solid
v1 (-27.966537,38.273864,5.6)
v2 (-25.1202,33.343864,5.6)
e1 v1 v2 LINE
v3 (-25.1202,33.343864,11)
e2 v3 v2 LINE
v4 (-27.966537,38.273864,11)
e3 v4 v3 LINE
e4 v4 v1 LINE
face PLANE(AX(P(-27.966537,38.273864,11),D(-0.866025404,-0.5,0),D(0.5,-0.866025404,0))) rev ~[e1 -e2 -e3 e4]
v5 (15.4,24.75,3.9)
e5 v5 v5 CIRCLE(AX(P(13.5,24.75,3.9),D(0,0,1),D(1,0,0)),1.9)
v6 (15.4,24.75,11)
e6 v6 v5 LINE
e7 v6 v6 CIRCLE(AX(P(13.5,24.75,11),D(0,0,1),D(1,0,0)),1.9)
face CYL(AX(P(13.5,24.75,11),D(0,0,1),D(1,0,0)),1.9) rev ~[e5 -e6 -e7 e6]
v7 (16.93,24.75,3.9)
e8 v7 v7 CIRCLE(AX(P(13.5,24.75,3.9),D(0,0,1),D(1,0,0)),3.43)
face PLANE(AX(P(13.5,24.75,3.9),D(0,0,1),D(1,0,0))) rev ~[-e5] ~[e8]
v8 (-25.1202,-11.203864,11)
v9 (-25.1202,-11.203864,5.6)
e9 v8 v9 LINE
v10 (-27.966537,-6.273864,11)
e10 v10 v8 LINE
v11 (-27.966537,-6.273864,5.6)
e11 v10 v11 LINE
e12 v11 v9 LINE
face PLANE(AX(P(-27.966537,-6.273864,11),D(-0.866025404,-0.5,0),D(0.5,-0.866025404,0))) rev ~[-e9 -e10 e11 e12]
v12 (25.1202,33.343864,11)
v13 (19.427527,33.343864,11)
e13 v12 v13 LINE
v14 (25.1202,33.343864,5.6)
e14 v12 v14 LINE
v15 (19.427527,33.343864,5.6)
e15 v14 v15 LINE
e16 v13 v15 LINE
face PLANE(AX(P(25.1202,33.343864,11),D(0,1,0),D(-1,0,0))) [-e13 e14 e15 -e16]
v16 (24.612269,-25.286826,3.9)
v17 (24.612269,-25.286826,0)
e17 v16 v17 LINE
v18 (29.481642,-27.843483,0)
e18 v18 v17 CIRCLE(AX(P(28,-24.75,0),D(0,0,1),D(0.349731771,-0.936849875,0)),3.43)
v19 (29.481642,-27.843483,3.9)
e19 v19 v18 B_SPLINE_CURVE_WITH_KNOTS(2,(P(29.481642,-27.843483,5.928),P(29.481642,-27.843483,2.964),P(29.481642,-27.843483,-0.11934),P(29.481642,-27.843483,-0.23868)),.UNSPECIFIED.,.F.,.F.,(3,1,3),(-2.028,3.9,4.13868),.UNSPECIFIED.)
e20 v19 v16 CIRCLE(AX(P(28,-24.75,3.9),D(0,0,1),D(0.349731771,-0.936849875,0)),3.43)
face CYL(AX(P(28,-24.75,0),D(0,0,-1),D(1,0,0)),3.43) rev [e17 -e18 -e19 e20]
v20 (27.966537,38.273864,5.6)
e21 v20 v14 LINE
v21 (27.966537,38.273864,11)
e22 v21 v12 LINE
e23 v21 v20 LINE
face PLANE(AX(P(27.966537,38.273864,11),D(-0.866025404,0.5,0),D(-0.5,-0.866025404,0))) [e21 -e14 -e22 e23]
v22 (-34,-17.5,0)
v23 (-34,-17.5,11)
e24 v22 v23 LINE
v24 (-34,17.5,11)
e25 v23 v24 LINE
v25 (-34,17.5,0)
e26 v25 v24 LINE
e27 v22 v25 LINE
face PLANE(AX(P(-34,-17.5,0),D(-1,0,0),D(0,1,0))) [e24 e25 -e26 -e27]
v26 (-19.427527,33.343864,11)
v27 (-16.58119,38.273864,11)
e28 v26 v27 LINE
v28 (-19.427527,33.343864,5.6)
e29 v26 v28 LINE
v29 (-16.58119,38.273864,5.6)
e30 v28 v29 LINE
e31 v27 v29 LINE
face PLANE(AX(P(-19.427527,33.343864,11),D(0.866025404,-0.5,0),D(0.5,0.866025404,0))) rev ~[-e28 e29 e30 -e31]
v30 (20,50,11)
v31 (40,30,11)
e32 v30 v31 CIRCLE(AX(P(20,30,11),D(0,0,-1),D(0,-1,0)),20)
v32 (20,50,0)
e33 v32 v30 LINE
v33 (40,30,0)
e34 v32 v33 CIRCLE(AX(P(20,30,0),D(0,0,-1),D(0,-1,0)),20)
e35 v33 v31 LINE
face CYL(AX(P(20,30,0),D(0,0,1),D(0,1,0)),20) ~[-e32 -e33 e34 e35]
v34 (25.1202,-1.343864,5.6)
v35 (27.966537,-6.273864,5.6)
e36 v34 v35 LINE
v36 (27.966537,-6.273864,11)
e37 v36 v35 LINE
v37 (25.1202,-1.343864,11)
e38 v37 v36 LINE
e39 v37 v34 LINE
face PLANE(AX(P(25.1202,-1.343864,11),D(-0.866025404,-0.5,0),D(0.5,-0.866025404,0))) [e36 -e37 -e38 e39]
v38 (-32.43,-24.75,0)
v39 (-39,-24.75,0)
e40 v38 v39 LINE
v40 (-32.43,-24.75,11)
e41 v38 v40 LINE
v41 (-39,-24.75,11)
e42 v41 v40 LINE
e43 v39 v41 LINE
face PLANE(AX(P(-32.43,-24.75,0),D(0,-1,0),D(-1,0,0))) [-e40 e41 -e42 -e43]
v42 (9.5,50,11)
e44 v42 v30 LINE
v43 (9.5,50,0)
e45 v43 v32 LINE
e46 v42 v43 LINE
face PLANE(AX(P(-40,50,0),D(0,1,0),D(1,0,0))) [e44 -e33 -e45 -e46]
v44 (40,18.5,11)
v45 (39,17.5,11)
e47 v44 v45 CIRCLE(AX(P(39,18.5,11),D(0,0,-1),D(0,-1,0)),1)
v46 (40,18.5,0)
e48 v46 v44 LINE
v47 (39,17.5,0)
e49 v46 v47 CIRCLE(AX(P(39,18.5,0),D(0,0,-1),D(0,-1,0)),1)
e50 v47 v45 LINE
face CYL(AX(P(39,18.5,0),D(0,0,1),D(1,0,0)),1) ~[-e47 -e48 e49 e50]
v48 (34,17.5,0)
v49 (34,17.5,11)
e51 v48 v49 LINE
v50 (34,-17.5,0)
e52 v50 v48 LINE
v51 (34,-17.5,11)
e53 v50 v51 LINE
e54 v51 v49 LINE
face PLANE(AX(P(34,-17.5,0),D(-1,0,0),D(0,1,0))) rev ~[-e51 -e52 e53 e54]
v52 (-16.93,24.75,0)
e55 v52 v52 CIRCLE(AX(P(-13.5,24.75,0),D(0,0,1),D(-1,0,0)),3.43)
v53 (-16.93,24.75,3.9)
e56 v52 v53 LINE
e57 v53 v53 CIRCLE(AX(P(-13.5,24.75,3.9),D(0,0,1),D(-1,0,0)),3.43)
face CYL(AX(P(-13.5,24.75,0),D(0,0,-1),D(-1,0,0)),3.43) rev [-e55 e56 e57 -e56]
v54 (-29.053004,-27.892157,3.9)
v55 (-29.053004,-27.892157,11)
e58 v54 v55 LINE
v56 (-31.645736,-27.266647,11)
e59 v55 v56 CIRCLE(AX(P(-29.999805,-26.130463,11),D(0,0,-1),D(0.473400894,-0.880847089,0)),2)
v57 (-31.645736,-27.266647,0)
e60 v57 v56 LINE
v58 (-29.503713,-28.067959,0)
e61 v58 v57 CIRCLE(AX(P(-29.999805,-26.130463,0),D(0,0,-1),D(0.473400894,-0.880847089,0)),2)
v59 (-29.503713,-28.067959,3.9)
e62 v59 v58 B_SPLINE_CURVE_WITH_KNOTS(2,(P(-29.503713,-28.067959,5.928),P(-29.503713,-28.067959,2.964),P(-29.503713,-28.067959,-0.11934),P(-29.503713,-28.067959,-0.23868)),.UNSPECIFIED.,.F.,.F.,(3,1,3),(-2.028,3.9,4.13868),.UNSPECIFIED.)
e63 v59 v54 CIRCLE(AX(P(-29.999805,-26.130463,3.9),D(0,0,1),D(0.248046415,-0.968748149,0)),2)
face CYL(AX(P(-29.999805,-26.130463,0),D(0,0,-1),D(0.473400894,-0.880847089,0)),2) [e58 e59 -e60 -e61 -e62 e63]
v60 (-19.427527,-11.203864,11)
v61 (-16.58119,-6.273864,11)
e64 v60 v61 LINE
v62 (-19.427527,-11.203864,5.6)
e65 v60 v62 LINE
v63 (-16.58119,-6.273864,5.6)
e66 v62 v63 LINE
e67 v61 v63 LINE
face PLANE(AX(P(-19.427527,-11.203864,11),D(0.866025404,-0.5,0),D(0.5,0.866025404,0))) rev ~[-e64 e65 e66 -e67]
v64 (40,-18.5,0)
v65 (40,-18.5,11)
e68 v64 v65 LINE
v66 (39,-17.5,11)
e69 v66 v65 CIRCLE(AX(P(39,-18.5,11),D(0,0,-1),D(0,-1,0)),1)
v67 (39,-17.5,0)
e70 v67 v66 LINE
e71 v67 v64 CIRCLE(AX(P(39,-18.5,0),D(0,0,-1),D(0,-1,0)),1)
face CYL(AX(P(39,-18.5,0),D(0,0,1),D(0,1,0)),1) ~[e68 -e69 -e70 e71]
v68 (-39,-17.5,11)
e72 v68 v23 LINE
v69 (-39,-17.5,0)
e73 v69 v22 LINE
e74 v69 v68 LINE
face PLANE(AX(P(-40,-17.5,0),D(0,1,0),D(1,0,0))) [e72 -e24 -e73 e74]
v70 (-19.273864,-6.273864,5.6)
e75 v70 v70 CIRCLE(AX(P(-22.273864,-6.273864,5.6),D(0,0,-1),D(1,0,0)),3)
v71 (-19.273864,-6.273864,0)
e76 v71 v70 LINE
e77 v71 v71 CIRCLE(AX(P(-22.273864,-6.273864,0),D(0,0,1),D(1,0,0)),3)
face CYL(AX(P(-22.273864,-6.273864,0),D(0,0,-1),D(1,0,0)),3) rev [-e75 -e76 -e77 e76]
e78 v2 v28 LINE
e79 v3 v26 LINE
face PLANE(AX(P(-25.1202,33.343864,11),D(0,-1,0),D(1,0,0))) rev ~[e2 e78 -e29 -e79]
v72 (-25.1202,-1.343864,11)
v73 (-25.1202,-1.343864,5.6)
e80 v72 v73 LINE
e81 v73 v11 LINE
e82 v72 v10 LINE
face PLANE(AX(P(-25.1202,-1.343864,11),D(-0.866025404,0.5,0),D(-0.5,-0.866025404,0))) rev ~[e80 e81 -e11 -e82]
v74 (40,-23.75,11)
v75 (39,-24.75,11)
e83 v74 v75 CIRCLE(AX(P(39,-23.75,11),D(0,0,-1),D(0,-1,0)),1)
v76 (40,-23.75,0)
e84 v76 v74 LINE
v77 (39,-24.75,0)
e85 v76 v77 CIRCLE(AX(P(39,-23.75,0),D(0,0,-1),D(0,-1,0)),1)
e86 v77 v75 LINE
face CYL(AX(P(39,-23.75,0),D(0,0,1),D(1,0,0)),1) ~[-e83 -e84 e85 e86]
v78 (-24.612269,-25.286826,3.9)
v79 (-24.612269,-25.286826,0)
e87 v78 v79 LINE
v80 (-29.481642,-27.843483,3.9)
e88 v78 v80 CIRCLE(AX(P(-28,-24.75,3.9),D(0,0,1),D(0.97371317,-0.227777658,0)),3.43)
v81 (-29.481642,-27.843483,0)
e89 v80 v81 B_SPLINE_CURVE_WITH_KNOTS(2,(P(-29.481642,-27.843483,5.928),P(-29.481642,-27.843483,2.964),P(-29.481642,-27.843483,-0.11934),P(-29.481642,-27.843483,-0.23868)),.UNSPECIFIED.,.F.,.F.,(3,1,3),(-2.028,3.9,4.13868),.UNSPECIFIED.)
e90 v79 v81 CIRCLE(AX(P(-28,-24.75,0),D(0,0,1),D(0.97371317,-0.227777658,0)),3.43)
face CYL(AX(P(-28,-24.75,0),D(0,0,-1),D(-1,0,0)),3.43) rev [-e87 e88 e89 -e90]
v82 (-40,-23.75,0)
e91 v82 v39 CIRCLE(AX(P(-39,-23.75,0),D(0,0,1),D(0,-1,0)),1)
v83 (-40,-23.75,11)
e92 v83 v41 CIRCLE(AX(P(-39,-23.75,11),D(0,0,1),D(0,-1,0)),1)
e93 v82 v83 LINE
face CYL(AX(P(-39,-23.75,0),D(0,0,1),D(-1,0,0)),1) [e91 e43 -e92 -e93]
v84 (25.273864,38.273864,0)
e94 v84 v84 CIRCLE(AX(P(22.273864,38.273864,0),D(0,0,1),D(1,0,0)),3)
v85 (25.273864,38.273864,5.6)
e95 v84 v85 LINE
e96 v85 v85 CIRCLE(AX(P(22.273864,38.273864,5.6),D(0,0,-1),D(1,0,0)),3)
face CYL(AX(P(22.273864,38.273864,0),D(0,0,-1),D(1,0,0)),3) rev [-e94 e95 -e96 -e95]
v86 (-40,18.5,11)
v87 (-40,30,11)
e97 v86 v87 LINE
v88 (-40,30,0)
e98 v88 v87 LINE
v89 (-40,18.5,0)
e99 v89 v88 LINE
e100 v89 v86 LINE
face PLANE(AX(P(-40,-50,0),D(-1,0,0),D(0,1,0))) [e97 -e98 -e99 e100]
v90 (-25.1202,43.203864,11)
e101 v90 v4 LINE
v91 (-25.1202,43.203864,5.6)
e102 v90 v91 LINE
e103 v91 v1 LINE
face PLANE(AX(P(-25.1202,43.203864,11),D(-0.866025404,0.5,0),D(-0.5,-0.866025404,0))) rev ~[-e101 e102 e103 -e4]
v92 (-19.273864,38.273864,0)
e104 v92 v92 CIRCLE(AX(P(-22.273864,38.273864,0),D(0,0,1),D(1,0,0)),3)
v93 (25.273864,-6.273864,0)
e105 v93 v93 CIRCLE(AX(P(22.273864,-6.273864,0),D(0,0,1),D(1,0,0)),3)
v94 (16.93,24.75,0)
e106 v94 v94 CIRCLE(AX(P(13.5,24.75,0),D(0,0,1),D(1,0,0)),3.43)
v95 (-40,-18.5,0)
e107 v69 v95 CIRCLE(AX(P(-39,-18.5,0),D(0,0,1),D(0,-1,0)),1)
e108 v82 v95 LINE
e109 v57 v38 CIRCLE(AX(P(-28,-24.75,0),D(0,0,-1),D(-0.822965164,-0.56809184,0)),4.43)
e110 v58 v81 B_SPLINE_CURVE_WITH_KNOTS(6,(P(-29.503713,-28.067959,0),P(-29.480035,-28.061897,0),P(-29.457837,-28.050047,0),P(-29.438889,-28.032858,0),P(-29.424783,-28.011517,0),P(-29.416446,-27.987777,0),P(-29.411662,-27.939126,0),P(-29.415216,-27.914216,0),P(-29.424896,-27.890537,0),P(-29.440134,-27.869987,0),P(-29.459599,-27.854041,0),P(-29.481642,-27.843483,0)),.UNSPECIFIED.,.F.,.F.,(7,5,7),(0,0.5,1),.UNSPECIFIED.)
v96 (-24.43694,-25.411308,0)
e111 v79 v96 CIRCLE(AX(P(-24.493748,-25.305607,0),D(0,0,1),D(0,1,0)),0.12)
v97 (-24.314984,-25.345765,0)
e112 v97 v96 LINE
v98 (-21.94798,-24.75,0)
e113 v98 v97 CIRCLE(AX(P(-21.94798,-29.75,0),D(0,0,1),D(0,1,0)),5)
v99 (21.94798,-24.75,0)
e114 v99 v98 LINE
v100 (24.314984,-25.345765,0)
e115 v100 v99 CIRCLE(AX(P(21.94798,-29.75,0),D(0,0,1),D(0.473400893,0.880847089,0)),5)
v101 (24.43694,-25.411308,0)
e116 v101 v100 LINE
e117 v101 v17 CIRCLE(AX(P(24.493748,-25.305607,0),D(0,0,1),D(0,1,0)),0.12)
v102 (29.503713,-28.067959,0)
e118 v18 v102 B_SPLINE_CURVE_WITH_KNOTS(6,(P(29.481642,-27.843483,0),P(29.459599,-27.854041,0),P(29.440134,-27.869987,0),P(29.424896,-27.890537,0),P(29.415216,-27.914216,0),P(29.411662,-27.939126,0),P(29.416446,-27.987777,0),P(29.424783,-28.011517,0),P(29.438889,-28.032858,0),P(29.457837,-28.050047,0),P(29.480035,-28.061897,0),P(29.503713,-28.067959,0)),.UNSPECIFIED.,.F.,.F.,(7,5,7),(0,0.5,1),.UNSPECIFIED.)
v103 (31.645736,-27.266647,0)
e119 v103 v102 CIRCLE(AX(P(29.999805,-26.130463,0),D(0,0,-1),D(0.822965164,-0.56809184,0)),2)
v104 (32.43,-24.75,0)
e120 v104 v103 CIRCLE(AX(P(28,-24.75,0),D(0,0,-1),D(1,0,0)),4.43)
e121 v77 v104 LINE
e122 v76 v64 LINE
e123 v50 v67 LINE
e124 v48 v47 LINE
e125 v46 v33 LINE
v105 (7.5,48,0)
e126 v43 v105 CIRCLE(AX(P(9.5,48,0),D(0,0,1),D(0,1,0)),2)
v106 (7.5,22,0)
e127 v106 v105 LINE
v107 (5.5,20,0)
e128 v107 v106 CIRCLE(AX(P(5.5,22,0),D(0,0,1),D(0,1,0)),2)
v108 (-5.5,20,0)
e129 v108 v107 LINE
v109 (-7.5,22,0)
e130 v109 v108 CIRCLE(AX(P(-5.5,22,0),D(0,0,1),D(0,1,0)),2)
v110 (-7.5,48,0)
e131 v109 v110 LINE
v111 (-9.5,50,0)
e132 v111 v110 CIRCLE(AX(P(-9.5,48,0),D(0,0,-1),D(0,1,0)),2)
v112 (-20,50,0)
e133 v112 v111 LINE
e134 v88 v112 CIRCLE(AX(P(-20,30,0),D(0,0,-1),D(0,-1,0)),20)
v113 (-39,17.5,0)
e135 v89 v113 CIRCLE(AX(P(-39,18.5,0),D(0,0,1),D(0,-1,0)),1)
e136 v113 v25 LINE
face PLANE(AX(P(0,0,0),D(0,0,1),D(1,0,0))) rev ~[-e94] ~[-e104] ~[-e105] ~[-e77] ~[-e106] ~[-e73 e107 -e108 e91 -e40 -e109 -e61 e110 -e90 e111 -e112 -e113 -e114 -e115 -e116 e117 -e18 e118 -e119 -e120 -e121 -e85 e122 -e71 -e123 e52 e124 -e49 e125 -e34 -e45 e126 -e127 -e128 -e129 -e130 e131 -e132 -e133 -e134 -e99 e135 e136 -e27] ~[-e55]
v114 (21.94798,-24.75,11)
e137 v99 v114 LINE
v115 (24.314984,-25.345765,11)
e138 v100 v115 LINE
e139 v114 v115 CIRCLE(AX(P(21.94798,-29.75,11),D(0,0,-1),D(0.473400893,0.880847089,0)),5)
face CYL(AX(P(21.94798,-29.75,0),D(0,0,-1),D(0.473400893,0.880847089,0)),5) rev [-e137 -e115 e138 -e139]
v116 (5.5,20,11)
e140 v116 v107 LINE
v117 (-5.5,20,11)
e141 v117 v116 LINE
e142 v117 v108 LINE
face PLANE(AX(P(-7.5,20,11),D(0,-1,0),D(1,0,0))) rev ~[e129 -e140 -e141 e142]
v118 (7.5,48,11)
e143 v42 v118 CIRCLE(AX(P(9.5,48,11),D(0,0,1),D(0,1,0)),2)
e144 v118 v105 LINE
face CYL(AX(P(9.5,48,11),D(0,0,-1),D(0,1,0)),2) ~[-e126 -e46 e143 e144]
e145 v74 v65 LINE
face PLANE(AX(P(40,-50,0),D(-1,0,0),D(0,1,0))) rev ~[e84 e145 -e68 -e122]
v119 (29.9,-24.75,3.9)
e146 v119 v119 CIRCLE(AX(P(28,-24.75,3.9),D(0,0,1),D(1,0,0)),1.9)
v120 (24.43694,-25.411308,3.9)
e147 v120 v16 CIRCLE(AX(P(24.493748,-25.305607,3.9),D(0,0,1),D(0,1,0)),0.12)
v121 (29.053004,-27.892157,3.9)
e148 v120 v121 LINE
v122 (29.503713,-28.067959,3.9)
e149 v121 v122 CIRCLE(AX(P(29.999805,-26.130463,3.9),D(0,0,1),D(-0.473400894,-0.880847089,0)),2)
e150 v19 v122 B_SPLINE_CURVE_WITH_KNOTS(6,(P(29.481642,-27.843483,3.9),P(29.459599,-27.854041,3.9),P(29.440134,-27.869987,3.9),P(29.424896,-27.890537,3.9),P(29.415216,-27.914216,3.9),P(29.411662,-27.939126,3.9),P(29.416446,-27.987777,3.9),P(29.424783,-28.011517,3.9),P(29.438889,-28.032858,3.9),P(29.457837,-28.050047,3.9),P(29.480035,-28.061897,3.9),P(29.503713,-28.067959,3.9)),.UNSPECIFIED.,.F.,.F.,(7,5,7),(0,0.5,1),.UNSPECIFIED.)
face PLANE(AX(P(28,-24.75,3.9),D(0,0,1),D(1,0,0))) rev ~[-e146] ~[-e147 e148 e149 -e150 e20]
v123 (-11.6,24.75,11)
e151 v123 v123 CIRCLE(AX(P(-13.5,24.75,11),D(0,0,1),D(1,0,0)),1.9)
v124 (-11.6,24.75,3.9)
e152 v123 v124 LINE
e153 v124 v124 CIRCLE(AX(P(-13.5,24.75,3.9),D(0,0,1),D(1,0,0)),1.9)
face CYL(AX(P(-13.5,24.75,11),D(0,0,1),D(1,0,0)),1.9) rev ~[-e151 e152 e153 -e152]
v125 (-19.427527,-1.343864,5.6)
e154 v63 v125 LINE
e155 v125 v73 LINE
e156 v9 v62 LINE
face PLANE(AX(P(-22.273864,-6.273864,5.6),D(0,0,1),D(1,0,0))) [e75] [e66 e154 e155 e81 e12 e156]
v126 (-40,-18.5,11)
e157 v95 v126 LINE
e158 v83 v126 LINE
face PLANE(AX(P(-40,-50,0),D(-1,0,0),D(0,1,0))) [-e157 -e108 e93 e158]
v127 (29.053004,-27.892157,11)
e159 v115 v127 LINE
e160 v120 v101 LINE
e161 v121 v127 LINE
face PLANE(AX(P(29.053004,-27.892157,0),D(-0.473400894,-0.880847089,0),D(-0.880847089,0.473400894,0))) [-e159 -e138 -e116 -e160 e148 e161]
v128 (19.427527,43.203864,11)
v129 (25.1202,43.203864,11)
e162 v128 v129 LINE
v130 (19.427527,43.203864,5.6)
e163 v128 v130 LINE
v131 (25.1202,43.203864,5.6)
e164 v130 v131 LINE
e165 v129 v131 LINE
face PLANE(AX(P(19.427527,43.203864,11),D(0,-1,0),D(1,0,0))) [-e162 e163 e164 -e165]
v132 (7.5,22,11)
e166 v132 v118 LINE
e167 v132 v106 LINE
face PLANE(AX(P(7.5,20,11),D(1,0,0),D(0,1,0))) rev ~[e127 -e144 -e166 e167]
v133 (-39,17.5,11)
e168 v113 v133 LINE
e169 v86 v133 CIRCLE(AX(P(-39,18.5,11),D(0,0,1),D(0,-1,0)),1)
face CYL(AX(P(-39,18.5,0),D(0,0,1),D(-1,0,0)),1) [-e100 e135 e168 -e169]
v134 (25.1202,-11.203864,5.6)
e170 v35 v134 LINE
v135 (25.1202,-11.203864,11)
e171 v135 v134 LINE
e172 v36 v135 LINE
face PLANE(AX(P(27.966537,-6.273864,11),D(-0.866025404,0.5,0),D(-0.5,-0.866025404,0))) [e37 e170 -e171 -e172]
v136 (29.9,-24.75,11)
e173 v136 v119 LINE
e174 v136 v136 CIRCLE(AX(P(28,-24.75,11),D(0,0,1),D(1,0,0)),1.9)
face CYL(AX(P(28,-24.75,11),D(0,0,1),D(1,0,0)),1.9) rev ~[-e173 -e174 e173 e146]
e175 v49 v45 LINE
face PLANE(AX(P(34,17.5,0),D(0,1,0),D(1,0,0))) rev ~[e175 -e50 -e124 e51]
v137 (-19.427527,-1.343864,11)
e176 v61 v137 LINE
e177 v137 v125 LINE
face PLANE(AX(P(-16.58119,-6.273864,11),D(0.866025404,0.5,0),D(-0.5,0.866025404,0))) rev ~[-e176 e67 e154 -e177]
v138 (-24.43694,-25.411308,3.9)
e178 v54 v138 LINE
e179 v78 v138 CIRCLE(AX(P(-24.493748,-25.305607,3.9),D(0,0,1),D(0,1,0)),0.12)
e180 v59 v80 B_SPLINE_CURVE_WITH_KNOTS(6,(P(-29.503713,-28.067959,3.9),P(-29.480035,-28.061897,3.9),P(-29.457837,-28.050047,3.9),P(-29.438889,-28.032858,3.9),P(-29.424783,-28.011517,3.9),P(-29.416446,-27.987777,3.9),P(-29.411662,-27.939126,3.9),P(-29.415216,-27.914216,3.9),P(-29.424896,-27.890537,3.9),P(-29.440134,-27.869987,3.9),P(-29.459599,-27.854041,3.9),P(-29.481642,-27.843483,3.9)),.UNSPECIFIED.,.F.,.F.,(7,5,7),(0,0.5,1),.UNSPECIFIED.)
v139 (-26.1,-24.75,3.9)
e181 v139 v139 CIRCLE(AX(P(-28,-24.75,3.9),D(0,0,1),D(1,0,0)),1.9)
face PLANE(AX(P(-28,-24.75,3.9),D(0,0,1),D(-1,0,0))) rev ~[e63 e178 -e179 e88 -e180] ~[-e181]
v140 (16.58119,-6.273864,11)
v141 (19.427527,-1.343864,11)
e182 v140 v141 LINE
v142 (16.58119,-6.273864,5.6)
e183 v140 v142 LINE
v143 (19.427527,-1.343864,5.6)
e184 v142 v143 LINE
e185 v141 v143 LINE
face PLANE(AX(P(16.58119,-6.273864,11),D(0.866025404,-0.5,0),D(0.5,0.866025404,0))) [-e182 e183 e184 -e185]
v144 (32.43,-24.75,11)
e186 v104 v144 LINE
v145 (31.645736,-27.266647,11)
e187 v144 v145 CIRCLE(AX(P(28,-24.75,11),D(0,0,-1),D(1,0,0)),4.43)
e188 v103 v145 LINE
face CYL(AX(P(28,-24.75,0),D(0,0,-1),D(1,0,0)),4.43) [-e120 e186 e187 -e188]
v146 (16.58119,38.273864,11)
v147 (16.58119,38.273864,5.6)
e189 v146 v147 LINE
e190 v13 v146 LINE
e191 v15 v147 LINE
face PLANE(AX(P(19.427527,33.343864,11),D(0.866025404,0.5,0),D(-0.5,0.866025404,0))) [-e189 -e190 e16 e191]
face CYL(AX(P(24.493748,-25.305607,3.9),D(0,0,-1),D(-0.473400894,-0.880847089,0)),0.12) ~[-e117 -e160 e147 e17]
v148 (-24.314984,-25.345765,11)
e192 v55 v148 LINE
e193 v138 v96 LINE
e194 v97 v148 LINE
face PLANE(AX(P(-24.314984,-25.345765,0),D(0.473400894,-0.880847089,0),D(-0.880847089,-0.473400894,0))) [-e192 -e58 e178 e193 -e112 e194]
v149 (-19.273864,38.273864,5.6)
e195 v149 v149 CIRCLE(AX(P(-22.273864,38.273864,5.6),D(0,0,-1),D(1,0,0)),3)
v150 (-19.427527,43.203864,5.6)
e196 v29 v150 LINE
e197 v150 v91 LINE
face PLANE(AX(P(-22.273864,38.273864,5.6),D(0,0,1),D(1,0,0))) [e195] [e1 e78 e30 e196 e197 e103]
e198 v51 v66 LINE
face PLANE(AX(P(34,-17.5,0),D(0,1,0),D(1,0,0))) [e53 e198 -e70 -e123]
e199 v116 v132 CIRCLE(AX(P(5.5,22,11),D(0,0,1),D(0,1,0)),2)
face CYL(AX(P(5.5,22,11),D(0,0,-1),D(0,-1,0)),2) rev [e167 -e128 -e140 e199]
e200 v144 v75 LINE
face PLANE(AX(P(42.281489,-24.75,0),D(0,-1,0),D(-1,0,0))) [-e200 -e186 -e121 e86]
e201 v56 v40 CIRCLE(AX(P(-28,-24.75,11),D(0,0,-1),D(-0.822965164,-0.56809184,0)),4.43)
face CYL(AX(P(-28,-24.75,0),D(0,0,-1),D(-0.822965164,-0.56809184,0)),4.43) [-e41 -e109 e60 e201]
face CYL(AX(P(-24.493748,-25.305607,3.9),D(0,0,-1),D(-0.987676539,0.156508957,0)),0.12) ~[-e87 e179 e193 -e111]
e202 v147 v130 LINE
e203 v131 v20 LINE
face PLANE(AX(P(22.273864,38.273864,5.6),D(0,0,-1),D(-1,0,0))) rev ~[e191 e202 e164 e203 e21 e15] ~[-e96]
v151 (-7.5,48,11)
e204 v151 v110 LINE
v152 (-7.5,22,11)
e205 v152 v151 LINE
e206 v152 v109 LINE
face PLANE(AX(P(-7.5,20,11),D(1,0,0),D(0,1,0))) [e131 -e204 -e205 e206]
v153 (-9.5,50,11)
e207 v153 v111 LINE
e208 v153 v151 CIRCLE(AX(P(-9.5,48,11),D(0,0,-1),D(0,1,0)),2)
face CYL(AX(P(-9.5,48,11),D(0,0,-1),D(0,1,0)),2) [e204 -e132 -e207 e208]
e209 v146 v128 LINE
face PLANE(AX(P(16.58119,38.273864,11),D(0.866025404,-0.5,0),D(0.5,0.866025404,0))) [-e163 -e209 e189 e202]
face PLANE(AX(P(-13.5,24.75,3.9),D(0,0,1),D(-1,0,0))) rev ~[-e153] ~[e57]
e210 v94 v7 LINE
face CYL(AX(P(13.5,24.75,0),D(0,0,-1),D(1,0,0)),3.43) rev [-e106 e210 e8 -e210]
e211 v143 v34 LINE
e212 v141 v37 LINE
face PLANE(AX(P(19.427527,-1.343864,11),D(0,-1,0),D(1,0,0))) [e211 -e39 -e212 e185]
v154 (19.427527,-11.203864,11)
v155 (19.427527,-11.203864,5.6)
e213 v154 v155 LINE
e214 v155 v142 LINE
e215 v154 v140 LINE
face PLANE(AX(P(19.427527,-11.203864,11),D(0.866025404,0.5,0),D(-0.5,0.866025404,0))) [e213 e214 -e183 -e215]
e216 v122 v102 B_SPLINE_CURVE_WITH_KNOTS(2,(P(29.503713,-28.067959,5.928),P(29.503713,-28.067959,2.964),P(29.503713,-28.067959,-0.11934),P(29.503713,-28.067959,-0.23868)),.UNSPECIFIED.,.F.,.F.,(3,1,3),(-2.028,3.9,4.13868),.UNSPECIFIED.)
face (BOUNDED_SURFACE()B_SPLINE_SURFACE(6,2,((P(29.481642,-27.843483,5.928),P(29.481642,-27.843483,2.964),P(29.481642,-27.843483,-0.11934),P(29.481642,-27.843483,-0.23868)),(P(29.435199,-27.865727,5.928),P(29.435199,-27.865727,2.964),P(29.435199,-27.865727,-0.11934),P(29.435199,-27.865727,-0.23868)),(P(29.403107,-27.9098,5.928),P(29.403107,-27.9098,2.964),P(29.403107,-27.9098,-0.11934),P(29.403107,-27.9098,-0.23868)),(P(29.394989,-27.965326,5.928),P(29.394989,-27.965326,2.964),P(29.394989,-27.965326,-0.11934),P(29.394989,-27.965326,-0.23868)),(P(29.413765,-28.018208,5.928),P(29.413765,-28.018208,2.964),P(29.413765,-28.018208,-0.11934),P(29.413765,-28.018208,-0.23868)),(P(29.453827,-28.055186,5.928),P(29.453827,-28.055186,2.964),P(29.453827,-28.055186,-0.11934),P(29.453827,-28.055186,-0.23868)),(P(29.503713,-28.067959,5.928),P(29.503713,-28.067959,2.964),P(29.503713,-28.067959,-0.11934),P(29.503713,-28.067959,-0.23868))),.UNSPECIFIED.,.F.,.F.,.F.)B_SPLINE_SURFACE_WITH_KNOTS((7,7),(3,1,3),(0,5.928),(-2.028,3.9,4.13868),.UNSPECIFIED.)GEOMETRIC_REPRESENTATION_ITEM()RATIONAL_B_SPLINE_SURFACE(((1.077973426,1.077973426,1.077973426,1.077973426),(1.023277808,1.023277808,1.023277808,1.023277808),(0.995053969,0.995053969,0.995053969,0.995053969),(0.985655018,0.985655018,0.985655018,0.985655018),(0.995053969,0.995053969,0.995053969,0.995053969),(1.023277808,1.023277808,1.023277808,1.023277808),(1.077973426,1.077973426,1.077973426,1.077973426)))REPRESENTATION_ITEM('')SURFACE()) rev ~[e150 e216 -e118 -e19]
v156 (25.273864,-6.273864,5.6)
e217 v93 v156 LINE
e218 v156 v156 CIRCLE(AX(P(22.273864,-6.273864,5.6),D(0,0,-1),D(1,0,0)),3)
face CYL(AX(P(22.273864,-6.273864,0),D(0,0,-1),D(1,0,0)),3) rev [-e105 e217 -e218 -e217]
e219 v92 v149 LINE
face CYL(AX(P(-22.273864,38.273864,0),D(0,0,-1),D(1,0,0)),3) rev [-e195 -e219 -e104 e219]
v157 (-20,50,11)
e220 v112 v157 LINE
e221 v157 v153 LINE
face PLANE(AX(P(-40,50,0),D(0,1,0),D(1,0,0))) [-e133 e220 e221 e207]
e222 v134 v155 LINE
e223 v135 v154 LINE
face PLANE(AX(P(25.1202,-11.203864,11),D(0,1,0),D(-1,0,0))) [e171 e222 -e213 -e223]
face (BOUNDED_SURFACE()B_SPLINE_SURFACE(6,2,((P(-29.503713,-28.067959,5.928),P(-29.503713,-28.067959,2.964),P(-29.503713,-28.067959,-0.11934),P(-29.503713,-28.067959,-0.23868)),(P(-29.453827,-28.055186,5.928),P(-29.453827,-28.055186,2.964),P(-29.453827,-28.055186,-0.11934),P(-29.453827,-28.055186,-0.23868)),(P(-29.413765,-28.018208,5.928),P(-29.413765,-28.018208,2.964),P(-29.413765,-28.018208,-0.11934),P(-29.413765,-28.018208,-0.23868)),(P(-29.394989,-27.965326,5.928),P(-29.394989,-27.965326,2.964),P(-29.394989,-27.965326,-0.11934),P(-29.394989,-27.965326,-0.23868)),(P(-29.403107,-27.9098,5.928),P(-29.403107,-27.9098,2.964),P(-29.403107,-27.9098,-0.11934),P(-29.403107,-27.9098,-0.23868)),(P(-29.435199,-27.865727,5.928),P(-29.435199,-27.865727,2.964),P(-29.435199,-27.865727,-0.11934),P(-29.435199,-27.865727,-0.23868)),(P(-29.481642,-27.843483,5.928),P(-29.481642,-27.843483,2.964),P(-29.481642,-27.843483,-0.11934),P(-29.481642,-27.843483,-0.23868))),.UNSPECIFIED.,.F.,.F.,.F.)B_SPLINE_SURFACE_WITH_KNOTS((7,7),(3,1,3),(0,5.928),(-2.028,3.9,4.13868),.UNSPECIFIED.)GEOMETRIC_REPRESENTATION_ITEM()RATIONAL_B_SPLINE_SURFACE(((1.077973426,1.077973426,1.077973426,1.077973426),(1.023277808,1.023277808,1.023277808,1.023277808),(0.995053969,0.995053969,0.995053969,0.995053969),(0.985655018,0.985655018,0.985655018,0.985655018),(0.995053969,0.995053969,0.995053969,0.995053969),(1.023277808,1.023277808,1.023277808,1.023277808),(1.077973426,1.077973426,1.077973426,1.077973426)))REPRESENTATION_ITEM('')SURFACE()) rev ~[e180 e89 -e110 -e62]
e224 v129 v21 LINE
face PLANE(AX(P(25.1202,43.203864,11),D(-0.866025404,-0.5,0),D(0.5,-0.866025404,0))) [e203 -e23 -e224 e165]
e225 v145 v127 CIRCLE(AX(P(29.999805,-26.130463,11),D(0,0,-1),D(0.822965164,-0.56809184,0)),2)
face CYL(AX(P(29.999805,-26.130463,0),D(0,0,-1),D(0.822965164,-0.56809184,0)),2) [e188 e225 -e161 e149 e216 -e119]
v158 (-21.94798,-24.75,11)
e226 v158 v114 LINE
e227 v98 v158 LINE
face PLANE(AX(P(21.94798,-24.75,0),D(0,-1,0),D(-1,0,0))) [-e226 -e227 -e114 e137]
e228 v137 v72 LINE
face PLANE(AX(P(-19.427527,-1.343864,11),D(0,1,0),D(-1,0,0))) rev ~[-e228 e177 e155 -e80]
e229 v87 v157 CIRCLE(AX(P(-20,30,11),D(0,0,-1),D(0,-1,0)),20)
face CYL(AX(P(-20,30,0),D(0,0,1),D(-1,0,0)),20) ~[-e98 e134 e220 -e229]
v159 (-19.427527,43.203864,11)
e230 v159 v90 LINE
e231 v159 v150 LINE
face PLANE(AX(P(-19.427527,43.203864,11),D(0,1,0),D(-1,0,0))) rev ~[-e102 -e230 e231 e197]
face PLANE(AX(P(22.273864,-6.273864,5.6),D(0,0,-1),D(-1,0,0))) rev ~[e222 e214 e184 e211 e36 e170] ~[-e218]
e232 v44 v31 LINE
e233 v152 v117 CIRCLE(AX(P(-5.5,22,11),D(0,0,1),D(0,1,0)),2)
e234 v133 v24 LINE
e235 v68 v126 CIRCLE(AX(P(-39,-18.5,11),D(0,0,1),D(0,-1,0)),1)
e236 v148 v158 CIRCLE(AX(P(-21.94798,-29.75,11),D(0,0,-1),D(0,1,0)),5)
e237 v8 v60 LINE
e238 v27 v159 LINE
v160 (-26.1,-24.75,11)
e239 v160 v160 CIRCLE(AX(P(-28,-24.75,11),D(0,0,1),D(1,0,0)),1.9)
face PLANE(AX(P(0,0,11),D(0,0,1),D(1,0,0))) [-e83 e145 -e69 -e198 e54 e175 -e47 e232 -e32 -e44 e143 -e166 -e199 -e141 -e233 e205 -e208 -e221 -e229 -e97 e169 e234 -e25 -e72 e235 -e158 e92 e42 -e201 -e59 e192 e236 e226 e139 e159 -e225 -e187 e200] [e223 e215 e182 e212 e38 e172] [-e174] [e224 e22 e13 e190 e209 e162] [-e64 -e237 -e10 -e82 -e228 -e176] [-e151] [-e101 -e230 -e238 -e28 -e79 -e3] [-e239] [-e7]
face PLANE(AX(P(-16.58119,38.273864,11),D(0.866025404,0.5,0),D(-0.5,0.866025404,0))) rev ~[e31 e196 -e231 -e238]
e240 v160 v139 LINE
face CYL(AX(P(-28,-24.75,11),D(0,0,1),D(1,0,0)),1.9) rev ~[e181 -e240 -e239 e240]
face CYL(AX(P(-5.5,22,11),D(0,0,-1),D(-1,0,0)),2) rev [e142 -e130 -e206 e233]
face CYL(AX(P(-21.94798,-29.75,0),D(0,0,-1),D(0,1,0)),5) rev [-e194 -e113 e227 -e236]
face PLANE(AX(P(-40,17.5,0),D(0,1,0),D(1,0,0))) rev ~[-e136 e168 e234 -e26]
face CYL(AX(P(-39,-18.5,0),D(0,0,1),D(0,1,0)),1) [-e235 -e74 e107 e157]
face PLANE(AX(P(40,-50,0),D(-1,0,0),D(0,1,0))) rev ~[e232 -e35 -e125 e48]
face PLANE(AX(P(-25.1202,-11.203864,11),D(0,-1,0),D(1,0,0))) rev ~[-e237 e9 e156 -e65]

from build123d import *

# Parameters (mm, degrees)
SKETCH_1_W                   = 80
SKETCH_1_H                   = 100
EXTRUDE_1_DEPTH              = 11
SKETCH_7_W                   = 15
SKETCH_7_H                   = 30
CUT_EXTRUDE_1_DEPTH          = 16
HOLE_WIZARD_M4_1_D           = 3.3
HOLE_WIZARD_M4_1_CSINK_D     = 4.05
HOLE_WIZARD_M4_1_CSINK_ANGLE = 90
FILLET_1_R                   = 20
FILLET_2_R                   = 2
SKETCH_9_W                   = 6
SKETCH_9_H                   = 35
CUT_EXTRUDE_2_DEPTH          = 11
SKETCH_11_R                  = 3
CUT_EXTRUDE_4_DEPTH          = 15
SKETCH_12_R                  = 3.43
CUT_EXTRUDE_5_DEPTH          = 3.9
CUT_EXTRUDE_6_DEPTH          = 5.4
CUT_EXTRUDE_7_DEPTH          = 14
SKETCH_15_R                  = 1.9
CUT_EXTRUDE_8_DEPTH          = 14
FILLET_4_R                   = 0.12
FILLET_5_R                   = 1


with BuildPart() as part:
    # 草图1 → 凸台-拉伸1 (new body)
    with BuildSketch(Plane.XY):
        Rectangle(SKETCH_1_W, SKETCH_1_H)
    extrude(amount=EXTRUDE_1_DEPTH)

    # 草图7 → 切除-拉伸1 (cut)
    with BuildSketch(Plane.XY.offset(11)):
        with Locations((0, 35)):
            Rectangle(SKETCH_7_W, SKETCH_7_H)
    extrude(amount=-CUT_EXTRUDE_1_DEPTH, mode=Mode.SUBTRACT)

    # M4 螺纹孔1 (through all)
    with Locations(Plane(origin=(13.5, 24.75, 0), x_dir=(-1, 0, 0), z_dir=(0, 0, -1))):
        with Locations((0, 0), (27, 0), (41.5, -49.5), (-14.5, -49.5)):
            CounterSinkHole(HOLE_WIZARD_M4_1_D / 2, HOLE_WIZARD_M4_1_CSINK_D / 2, counter_sink_angle=HOLE_WIZARD_M4_1_CSINK_ANGLE)

    # 圆角1
    fillet_1_edges = [part.edges().sort_by_distance(p)[0] for p in [
        (-40, 50, 5.5),
        (40, 50, 5.5),
    ]]
    fillet(fillet_1_edges, radius=FILLET_1_R)

    # 圆角2
    fillet_2_edges = [part.edges().sort_by_distance(p)[0] for p in [
        (-7.5, 20, 5.5),
        (-7.5, 50, 5.5),
        (7.5, 50, 5.5),
        (7.5, 20, 5.5),
        (40, -50, 5.5),
        (-40, -50, 5.5),
    ]]
    fillet(fillet_2_edges, radius=FILLET_2_R)

    # 草图9 → 切除-拉伸2 (cut)
    with BuildSketch(Plane.XY):
        with Locations((37, 0)):
            Rectangle(SKETCH_9_W, SKETCH_9_H)
        with Locations((-37, 0)):
            Rectangle(SKETCH_9_W, SKETCH_9_H)
    extrude(amount=CUT_EXTRUDE_2_DEPTH, mode=Mode.SUBTRACT)

    # 草图11 → 切除-拉伸4 (cut)
    with BuildSketch(Plane.XY):
        with Locations((-22.273863607, 38.273863607)):
            Circle(SKETCH_11_R)
        with Locations((22.273863607, 38.273863607)):
            Circle(SKETCH_11_R)
        with Locations((22.273863607, -6.273863607)):
            Circle(SKETCH_11_R)
        with Locations((-22.273863607, -6.273863607)):
            Circle(SKETCH_11_R)
    extrude(amount=CUT_EXTRUDE_4_DEPTH, mode=Mode.SUBTRACT)

    # 草图12 → 切除-拉伸5 (cut)
    with BuildSketch(Plane.XY):
        with Locations((13.5, 24.75)):
            Circle(SKETCH_12_R)
        with Locations((28, -24.75)):
            Circle(SKETCH_12_R)
        with Locations(Location((-28, -24.75, 0), (0, 0, 180))):
            Circle(SKETCH_12_R)
        with Locations(Location((-13.5, 24.75, 0), (0, 0, 180))):
            Circle(SKETCH_12_R)
    extrude(amount=CUT_EXTRUDE_5_DEPTH, mode=Mode.SUBTRACT)

    # 草图13 → 切除-拉伸6 (cut)
    with BuildSketch(Plane.XY.offset(11)):
        Polygon((-19.42752678, 33.343863607), (-16.581189953, 38.273863607), (-19.42752678, 43.203863607), (-25.120200434, 43.203863607), (-27.966537262, 38.273863607), (-25.120200434, 33.343863607), align=None)
        Polygon((-19.42752678, -11.203863607), (-16.581189953, -6.273863607), (-19.42752678, -1.343863607), (-25.120200434, -1.343863607), (-27.966537262, -6.273863607), (-25.120200434, -11.203863607), align=None)
        Polygon((25.120200434, -11.203863607), (19.42752678, -11.203863607), (16.581189953, -6.273863607), (19.42752678, -1.343863607), (25.120200434, -1.343863607), (27.966537262, -6.273863607), align=None)
        Polygon((25.120200434, 33.343863607), (19.42752678, 33.343863607), (16.581189953, 38.273863607), (19.42752678, 43.203863607), (25.120200434, 43.203863607), (27.966537262, 38.273863607), align=None)
    extrude(amount=-CUT_EXTRUDE_6_DEPTH, mode=Mode.SUBTRACT)

    # 草图14 → 切除-拉伸7 (cut)
    with BuildSketch(Plane(origin=(0, 0, 0), x_dir=(-1, 0, 0), z_dir=(0, 0, -1))):
        with BuildLine():
            Line((-42.281489137, -24.75), (-32.43, -24.75))
            ThreePointArc((-32.43, -24.75), (-32.229391744, -26.068008147), (-31.645735677, -27.266646852))
            ThreePointArc((-31.645735677, -27.266646852), (-30.468858677, -28.074682546), (-29.053003561, -27.892157349))
            Line((-29.053003561, -27.892157349), (-24.314984036, -25.345764556))
            ThreePointArc((-24.314984036, -25.345764556), (-23.168394001, -24.901228134), (-21.947979567, -24.75))
            Line((-21.947979567, -24.75), (21.947979567, -24.75))
            ThreePointArc((21.947979567, -24.75), (23.168394001, -24.901228134), (24.314984036, -25.345764556))
            Line((24.314984036, -25.345764556), (29.053003561, -27.892157349))
            ThreePointArc((29.053003561, -27.892157349), (30.468858677, -28.074682546), (31.645735677, -27.266646852))
            ThreePointArc((31.645735677, -27.266646852), (32.229391744, -26.068008147), (32.43, -24.75))
            Line((32.43, -24.75), (45.771408099, -24.75))
            Line((45.771408099, -24.75), (45.771408099, -58.548543379))
            Line((45.771408099, -58.548543379), (-42.281489137, -58.548543379))
            Line((-42.281489137, -58.548543379), (-42.281489137, -24.75))
        make_face()
    extrude(amount=-CUT_EXTRUDE_7_DEPTH, mode=Mode.SUBTRACT)

    # 草图15 → 切除-拉伸8 (cut)
    with BuildSketch(Plane.XY.offset(11)):
        with Locations((-13.5, 24.75)):
            Circle(SKETCH_15_R)
        with Locations((-28, -24.75)):
            Circle(SKETCH_15_R)
        with Locations((13.5, 24.75)):
            Circle(SKETCH_15_R)
        with Locations((28, -24.75)):
            Circle(SKETCH_15_R)
    extrude(amount=-CUT_EXTRUDE_8_DEPTH, mode=Mode.SUBTRACT)

    # 圆角4
    fillet_4_edges = [part.edges().sort_by_distance(p)[0] for p in [
        (24.660163825, -25.531277369, 1.95),
        (29.199579974, -27.963395071, 1.95),
        (-29.199579974, -27.963395071, 1.95),
        (-24.660163825, -25.531277369, 1.95),
    ]]
    fillet(fillet_4_edges, radius=FILLET_4_R)

    # 圆角5
    fillet_5_edges = [part.edges().sort_by_distance(p)[0] for p in [
        (40, -17.5, 5.5),
        (40, 17.5, 5.5),
        (-40, 17.5, 5.5),
        (-40, -17.5, 5.5),
        (40, -24.75, 5.5),
        (-40, -24.75, 5.5),
    ]]
    fillet(fillet_5_edges, radius=FILLET_5_R)


solid = part.part
